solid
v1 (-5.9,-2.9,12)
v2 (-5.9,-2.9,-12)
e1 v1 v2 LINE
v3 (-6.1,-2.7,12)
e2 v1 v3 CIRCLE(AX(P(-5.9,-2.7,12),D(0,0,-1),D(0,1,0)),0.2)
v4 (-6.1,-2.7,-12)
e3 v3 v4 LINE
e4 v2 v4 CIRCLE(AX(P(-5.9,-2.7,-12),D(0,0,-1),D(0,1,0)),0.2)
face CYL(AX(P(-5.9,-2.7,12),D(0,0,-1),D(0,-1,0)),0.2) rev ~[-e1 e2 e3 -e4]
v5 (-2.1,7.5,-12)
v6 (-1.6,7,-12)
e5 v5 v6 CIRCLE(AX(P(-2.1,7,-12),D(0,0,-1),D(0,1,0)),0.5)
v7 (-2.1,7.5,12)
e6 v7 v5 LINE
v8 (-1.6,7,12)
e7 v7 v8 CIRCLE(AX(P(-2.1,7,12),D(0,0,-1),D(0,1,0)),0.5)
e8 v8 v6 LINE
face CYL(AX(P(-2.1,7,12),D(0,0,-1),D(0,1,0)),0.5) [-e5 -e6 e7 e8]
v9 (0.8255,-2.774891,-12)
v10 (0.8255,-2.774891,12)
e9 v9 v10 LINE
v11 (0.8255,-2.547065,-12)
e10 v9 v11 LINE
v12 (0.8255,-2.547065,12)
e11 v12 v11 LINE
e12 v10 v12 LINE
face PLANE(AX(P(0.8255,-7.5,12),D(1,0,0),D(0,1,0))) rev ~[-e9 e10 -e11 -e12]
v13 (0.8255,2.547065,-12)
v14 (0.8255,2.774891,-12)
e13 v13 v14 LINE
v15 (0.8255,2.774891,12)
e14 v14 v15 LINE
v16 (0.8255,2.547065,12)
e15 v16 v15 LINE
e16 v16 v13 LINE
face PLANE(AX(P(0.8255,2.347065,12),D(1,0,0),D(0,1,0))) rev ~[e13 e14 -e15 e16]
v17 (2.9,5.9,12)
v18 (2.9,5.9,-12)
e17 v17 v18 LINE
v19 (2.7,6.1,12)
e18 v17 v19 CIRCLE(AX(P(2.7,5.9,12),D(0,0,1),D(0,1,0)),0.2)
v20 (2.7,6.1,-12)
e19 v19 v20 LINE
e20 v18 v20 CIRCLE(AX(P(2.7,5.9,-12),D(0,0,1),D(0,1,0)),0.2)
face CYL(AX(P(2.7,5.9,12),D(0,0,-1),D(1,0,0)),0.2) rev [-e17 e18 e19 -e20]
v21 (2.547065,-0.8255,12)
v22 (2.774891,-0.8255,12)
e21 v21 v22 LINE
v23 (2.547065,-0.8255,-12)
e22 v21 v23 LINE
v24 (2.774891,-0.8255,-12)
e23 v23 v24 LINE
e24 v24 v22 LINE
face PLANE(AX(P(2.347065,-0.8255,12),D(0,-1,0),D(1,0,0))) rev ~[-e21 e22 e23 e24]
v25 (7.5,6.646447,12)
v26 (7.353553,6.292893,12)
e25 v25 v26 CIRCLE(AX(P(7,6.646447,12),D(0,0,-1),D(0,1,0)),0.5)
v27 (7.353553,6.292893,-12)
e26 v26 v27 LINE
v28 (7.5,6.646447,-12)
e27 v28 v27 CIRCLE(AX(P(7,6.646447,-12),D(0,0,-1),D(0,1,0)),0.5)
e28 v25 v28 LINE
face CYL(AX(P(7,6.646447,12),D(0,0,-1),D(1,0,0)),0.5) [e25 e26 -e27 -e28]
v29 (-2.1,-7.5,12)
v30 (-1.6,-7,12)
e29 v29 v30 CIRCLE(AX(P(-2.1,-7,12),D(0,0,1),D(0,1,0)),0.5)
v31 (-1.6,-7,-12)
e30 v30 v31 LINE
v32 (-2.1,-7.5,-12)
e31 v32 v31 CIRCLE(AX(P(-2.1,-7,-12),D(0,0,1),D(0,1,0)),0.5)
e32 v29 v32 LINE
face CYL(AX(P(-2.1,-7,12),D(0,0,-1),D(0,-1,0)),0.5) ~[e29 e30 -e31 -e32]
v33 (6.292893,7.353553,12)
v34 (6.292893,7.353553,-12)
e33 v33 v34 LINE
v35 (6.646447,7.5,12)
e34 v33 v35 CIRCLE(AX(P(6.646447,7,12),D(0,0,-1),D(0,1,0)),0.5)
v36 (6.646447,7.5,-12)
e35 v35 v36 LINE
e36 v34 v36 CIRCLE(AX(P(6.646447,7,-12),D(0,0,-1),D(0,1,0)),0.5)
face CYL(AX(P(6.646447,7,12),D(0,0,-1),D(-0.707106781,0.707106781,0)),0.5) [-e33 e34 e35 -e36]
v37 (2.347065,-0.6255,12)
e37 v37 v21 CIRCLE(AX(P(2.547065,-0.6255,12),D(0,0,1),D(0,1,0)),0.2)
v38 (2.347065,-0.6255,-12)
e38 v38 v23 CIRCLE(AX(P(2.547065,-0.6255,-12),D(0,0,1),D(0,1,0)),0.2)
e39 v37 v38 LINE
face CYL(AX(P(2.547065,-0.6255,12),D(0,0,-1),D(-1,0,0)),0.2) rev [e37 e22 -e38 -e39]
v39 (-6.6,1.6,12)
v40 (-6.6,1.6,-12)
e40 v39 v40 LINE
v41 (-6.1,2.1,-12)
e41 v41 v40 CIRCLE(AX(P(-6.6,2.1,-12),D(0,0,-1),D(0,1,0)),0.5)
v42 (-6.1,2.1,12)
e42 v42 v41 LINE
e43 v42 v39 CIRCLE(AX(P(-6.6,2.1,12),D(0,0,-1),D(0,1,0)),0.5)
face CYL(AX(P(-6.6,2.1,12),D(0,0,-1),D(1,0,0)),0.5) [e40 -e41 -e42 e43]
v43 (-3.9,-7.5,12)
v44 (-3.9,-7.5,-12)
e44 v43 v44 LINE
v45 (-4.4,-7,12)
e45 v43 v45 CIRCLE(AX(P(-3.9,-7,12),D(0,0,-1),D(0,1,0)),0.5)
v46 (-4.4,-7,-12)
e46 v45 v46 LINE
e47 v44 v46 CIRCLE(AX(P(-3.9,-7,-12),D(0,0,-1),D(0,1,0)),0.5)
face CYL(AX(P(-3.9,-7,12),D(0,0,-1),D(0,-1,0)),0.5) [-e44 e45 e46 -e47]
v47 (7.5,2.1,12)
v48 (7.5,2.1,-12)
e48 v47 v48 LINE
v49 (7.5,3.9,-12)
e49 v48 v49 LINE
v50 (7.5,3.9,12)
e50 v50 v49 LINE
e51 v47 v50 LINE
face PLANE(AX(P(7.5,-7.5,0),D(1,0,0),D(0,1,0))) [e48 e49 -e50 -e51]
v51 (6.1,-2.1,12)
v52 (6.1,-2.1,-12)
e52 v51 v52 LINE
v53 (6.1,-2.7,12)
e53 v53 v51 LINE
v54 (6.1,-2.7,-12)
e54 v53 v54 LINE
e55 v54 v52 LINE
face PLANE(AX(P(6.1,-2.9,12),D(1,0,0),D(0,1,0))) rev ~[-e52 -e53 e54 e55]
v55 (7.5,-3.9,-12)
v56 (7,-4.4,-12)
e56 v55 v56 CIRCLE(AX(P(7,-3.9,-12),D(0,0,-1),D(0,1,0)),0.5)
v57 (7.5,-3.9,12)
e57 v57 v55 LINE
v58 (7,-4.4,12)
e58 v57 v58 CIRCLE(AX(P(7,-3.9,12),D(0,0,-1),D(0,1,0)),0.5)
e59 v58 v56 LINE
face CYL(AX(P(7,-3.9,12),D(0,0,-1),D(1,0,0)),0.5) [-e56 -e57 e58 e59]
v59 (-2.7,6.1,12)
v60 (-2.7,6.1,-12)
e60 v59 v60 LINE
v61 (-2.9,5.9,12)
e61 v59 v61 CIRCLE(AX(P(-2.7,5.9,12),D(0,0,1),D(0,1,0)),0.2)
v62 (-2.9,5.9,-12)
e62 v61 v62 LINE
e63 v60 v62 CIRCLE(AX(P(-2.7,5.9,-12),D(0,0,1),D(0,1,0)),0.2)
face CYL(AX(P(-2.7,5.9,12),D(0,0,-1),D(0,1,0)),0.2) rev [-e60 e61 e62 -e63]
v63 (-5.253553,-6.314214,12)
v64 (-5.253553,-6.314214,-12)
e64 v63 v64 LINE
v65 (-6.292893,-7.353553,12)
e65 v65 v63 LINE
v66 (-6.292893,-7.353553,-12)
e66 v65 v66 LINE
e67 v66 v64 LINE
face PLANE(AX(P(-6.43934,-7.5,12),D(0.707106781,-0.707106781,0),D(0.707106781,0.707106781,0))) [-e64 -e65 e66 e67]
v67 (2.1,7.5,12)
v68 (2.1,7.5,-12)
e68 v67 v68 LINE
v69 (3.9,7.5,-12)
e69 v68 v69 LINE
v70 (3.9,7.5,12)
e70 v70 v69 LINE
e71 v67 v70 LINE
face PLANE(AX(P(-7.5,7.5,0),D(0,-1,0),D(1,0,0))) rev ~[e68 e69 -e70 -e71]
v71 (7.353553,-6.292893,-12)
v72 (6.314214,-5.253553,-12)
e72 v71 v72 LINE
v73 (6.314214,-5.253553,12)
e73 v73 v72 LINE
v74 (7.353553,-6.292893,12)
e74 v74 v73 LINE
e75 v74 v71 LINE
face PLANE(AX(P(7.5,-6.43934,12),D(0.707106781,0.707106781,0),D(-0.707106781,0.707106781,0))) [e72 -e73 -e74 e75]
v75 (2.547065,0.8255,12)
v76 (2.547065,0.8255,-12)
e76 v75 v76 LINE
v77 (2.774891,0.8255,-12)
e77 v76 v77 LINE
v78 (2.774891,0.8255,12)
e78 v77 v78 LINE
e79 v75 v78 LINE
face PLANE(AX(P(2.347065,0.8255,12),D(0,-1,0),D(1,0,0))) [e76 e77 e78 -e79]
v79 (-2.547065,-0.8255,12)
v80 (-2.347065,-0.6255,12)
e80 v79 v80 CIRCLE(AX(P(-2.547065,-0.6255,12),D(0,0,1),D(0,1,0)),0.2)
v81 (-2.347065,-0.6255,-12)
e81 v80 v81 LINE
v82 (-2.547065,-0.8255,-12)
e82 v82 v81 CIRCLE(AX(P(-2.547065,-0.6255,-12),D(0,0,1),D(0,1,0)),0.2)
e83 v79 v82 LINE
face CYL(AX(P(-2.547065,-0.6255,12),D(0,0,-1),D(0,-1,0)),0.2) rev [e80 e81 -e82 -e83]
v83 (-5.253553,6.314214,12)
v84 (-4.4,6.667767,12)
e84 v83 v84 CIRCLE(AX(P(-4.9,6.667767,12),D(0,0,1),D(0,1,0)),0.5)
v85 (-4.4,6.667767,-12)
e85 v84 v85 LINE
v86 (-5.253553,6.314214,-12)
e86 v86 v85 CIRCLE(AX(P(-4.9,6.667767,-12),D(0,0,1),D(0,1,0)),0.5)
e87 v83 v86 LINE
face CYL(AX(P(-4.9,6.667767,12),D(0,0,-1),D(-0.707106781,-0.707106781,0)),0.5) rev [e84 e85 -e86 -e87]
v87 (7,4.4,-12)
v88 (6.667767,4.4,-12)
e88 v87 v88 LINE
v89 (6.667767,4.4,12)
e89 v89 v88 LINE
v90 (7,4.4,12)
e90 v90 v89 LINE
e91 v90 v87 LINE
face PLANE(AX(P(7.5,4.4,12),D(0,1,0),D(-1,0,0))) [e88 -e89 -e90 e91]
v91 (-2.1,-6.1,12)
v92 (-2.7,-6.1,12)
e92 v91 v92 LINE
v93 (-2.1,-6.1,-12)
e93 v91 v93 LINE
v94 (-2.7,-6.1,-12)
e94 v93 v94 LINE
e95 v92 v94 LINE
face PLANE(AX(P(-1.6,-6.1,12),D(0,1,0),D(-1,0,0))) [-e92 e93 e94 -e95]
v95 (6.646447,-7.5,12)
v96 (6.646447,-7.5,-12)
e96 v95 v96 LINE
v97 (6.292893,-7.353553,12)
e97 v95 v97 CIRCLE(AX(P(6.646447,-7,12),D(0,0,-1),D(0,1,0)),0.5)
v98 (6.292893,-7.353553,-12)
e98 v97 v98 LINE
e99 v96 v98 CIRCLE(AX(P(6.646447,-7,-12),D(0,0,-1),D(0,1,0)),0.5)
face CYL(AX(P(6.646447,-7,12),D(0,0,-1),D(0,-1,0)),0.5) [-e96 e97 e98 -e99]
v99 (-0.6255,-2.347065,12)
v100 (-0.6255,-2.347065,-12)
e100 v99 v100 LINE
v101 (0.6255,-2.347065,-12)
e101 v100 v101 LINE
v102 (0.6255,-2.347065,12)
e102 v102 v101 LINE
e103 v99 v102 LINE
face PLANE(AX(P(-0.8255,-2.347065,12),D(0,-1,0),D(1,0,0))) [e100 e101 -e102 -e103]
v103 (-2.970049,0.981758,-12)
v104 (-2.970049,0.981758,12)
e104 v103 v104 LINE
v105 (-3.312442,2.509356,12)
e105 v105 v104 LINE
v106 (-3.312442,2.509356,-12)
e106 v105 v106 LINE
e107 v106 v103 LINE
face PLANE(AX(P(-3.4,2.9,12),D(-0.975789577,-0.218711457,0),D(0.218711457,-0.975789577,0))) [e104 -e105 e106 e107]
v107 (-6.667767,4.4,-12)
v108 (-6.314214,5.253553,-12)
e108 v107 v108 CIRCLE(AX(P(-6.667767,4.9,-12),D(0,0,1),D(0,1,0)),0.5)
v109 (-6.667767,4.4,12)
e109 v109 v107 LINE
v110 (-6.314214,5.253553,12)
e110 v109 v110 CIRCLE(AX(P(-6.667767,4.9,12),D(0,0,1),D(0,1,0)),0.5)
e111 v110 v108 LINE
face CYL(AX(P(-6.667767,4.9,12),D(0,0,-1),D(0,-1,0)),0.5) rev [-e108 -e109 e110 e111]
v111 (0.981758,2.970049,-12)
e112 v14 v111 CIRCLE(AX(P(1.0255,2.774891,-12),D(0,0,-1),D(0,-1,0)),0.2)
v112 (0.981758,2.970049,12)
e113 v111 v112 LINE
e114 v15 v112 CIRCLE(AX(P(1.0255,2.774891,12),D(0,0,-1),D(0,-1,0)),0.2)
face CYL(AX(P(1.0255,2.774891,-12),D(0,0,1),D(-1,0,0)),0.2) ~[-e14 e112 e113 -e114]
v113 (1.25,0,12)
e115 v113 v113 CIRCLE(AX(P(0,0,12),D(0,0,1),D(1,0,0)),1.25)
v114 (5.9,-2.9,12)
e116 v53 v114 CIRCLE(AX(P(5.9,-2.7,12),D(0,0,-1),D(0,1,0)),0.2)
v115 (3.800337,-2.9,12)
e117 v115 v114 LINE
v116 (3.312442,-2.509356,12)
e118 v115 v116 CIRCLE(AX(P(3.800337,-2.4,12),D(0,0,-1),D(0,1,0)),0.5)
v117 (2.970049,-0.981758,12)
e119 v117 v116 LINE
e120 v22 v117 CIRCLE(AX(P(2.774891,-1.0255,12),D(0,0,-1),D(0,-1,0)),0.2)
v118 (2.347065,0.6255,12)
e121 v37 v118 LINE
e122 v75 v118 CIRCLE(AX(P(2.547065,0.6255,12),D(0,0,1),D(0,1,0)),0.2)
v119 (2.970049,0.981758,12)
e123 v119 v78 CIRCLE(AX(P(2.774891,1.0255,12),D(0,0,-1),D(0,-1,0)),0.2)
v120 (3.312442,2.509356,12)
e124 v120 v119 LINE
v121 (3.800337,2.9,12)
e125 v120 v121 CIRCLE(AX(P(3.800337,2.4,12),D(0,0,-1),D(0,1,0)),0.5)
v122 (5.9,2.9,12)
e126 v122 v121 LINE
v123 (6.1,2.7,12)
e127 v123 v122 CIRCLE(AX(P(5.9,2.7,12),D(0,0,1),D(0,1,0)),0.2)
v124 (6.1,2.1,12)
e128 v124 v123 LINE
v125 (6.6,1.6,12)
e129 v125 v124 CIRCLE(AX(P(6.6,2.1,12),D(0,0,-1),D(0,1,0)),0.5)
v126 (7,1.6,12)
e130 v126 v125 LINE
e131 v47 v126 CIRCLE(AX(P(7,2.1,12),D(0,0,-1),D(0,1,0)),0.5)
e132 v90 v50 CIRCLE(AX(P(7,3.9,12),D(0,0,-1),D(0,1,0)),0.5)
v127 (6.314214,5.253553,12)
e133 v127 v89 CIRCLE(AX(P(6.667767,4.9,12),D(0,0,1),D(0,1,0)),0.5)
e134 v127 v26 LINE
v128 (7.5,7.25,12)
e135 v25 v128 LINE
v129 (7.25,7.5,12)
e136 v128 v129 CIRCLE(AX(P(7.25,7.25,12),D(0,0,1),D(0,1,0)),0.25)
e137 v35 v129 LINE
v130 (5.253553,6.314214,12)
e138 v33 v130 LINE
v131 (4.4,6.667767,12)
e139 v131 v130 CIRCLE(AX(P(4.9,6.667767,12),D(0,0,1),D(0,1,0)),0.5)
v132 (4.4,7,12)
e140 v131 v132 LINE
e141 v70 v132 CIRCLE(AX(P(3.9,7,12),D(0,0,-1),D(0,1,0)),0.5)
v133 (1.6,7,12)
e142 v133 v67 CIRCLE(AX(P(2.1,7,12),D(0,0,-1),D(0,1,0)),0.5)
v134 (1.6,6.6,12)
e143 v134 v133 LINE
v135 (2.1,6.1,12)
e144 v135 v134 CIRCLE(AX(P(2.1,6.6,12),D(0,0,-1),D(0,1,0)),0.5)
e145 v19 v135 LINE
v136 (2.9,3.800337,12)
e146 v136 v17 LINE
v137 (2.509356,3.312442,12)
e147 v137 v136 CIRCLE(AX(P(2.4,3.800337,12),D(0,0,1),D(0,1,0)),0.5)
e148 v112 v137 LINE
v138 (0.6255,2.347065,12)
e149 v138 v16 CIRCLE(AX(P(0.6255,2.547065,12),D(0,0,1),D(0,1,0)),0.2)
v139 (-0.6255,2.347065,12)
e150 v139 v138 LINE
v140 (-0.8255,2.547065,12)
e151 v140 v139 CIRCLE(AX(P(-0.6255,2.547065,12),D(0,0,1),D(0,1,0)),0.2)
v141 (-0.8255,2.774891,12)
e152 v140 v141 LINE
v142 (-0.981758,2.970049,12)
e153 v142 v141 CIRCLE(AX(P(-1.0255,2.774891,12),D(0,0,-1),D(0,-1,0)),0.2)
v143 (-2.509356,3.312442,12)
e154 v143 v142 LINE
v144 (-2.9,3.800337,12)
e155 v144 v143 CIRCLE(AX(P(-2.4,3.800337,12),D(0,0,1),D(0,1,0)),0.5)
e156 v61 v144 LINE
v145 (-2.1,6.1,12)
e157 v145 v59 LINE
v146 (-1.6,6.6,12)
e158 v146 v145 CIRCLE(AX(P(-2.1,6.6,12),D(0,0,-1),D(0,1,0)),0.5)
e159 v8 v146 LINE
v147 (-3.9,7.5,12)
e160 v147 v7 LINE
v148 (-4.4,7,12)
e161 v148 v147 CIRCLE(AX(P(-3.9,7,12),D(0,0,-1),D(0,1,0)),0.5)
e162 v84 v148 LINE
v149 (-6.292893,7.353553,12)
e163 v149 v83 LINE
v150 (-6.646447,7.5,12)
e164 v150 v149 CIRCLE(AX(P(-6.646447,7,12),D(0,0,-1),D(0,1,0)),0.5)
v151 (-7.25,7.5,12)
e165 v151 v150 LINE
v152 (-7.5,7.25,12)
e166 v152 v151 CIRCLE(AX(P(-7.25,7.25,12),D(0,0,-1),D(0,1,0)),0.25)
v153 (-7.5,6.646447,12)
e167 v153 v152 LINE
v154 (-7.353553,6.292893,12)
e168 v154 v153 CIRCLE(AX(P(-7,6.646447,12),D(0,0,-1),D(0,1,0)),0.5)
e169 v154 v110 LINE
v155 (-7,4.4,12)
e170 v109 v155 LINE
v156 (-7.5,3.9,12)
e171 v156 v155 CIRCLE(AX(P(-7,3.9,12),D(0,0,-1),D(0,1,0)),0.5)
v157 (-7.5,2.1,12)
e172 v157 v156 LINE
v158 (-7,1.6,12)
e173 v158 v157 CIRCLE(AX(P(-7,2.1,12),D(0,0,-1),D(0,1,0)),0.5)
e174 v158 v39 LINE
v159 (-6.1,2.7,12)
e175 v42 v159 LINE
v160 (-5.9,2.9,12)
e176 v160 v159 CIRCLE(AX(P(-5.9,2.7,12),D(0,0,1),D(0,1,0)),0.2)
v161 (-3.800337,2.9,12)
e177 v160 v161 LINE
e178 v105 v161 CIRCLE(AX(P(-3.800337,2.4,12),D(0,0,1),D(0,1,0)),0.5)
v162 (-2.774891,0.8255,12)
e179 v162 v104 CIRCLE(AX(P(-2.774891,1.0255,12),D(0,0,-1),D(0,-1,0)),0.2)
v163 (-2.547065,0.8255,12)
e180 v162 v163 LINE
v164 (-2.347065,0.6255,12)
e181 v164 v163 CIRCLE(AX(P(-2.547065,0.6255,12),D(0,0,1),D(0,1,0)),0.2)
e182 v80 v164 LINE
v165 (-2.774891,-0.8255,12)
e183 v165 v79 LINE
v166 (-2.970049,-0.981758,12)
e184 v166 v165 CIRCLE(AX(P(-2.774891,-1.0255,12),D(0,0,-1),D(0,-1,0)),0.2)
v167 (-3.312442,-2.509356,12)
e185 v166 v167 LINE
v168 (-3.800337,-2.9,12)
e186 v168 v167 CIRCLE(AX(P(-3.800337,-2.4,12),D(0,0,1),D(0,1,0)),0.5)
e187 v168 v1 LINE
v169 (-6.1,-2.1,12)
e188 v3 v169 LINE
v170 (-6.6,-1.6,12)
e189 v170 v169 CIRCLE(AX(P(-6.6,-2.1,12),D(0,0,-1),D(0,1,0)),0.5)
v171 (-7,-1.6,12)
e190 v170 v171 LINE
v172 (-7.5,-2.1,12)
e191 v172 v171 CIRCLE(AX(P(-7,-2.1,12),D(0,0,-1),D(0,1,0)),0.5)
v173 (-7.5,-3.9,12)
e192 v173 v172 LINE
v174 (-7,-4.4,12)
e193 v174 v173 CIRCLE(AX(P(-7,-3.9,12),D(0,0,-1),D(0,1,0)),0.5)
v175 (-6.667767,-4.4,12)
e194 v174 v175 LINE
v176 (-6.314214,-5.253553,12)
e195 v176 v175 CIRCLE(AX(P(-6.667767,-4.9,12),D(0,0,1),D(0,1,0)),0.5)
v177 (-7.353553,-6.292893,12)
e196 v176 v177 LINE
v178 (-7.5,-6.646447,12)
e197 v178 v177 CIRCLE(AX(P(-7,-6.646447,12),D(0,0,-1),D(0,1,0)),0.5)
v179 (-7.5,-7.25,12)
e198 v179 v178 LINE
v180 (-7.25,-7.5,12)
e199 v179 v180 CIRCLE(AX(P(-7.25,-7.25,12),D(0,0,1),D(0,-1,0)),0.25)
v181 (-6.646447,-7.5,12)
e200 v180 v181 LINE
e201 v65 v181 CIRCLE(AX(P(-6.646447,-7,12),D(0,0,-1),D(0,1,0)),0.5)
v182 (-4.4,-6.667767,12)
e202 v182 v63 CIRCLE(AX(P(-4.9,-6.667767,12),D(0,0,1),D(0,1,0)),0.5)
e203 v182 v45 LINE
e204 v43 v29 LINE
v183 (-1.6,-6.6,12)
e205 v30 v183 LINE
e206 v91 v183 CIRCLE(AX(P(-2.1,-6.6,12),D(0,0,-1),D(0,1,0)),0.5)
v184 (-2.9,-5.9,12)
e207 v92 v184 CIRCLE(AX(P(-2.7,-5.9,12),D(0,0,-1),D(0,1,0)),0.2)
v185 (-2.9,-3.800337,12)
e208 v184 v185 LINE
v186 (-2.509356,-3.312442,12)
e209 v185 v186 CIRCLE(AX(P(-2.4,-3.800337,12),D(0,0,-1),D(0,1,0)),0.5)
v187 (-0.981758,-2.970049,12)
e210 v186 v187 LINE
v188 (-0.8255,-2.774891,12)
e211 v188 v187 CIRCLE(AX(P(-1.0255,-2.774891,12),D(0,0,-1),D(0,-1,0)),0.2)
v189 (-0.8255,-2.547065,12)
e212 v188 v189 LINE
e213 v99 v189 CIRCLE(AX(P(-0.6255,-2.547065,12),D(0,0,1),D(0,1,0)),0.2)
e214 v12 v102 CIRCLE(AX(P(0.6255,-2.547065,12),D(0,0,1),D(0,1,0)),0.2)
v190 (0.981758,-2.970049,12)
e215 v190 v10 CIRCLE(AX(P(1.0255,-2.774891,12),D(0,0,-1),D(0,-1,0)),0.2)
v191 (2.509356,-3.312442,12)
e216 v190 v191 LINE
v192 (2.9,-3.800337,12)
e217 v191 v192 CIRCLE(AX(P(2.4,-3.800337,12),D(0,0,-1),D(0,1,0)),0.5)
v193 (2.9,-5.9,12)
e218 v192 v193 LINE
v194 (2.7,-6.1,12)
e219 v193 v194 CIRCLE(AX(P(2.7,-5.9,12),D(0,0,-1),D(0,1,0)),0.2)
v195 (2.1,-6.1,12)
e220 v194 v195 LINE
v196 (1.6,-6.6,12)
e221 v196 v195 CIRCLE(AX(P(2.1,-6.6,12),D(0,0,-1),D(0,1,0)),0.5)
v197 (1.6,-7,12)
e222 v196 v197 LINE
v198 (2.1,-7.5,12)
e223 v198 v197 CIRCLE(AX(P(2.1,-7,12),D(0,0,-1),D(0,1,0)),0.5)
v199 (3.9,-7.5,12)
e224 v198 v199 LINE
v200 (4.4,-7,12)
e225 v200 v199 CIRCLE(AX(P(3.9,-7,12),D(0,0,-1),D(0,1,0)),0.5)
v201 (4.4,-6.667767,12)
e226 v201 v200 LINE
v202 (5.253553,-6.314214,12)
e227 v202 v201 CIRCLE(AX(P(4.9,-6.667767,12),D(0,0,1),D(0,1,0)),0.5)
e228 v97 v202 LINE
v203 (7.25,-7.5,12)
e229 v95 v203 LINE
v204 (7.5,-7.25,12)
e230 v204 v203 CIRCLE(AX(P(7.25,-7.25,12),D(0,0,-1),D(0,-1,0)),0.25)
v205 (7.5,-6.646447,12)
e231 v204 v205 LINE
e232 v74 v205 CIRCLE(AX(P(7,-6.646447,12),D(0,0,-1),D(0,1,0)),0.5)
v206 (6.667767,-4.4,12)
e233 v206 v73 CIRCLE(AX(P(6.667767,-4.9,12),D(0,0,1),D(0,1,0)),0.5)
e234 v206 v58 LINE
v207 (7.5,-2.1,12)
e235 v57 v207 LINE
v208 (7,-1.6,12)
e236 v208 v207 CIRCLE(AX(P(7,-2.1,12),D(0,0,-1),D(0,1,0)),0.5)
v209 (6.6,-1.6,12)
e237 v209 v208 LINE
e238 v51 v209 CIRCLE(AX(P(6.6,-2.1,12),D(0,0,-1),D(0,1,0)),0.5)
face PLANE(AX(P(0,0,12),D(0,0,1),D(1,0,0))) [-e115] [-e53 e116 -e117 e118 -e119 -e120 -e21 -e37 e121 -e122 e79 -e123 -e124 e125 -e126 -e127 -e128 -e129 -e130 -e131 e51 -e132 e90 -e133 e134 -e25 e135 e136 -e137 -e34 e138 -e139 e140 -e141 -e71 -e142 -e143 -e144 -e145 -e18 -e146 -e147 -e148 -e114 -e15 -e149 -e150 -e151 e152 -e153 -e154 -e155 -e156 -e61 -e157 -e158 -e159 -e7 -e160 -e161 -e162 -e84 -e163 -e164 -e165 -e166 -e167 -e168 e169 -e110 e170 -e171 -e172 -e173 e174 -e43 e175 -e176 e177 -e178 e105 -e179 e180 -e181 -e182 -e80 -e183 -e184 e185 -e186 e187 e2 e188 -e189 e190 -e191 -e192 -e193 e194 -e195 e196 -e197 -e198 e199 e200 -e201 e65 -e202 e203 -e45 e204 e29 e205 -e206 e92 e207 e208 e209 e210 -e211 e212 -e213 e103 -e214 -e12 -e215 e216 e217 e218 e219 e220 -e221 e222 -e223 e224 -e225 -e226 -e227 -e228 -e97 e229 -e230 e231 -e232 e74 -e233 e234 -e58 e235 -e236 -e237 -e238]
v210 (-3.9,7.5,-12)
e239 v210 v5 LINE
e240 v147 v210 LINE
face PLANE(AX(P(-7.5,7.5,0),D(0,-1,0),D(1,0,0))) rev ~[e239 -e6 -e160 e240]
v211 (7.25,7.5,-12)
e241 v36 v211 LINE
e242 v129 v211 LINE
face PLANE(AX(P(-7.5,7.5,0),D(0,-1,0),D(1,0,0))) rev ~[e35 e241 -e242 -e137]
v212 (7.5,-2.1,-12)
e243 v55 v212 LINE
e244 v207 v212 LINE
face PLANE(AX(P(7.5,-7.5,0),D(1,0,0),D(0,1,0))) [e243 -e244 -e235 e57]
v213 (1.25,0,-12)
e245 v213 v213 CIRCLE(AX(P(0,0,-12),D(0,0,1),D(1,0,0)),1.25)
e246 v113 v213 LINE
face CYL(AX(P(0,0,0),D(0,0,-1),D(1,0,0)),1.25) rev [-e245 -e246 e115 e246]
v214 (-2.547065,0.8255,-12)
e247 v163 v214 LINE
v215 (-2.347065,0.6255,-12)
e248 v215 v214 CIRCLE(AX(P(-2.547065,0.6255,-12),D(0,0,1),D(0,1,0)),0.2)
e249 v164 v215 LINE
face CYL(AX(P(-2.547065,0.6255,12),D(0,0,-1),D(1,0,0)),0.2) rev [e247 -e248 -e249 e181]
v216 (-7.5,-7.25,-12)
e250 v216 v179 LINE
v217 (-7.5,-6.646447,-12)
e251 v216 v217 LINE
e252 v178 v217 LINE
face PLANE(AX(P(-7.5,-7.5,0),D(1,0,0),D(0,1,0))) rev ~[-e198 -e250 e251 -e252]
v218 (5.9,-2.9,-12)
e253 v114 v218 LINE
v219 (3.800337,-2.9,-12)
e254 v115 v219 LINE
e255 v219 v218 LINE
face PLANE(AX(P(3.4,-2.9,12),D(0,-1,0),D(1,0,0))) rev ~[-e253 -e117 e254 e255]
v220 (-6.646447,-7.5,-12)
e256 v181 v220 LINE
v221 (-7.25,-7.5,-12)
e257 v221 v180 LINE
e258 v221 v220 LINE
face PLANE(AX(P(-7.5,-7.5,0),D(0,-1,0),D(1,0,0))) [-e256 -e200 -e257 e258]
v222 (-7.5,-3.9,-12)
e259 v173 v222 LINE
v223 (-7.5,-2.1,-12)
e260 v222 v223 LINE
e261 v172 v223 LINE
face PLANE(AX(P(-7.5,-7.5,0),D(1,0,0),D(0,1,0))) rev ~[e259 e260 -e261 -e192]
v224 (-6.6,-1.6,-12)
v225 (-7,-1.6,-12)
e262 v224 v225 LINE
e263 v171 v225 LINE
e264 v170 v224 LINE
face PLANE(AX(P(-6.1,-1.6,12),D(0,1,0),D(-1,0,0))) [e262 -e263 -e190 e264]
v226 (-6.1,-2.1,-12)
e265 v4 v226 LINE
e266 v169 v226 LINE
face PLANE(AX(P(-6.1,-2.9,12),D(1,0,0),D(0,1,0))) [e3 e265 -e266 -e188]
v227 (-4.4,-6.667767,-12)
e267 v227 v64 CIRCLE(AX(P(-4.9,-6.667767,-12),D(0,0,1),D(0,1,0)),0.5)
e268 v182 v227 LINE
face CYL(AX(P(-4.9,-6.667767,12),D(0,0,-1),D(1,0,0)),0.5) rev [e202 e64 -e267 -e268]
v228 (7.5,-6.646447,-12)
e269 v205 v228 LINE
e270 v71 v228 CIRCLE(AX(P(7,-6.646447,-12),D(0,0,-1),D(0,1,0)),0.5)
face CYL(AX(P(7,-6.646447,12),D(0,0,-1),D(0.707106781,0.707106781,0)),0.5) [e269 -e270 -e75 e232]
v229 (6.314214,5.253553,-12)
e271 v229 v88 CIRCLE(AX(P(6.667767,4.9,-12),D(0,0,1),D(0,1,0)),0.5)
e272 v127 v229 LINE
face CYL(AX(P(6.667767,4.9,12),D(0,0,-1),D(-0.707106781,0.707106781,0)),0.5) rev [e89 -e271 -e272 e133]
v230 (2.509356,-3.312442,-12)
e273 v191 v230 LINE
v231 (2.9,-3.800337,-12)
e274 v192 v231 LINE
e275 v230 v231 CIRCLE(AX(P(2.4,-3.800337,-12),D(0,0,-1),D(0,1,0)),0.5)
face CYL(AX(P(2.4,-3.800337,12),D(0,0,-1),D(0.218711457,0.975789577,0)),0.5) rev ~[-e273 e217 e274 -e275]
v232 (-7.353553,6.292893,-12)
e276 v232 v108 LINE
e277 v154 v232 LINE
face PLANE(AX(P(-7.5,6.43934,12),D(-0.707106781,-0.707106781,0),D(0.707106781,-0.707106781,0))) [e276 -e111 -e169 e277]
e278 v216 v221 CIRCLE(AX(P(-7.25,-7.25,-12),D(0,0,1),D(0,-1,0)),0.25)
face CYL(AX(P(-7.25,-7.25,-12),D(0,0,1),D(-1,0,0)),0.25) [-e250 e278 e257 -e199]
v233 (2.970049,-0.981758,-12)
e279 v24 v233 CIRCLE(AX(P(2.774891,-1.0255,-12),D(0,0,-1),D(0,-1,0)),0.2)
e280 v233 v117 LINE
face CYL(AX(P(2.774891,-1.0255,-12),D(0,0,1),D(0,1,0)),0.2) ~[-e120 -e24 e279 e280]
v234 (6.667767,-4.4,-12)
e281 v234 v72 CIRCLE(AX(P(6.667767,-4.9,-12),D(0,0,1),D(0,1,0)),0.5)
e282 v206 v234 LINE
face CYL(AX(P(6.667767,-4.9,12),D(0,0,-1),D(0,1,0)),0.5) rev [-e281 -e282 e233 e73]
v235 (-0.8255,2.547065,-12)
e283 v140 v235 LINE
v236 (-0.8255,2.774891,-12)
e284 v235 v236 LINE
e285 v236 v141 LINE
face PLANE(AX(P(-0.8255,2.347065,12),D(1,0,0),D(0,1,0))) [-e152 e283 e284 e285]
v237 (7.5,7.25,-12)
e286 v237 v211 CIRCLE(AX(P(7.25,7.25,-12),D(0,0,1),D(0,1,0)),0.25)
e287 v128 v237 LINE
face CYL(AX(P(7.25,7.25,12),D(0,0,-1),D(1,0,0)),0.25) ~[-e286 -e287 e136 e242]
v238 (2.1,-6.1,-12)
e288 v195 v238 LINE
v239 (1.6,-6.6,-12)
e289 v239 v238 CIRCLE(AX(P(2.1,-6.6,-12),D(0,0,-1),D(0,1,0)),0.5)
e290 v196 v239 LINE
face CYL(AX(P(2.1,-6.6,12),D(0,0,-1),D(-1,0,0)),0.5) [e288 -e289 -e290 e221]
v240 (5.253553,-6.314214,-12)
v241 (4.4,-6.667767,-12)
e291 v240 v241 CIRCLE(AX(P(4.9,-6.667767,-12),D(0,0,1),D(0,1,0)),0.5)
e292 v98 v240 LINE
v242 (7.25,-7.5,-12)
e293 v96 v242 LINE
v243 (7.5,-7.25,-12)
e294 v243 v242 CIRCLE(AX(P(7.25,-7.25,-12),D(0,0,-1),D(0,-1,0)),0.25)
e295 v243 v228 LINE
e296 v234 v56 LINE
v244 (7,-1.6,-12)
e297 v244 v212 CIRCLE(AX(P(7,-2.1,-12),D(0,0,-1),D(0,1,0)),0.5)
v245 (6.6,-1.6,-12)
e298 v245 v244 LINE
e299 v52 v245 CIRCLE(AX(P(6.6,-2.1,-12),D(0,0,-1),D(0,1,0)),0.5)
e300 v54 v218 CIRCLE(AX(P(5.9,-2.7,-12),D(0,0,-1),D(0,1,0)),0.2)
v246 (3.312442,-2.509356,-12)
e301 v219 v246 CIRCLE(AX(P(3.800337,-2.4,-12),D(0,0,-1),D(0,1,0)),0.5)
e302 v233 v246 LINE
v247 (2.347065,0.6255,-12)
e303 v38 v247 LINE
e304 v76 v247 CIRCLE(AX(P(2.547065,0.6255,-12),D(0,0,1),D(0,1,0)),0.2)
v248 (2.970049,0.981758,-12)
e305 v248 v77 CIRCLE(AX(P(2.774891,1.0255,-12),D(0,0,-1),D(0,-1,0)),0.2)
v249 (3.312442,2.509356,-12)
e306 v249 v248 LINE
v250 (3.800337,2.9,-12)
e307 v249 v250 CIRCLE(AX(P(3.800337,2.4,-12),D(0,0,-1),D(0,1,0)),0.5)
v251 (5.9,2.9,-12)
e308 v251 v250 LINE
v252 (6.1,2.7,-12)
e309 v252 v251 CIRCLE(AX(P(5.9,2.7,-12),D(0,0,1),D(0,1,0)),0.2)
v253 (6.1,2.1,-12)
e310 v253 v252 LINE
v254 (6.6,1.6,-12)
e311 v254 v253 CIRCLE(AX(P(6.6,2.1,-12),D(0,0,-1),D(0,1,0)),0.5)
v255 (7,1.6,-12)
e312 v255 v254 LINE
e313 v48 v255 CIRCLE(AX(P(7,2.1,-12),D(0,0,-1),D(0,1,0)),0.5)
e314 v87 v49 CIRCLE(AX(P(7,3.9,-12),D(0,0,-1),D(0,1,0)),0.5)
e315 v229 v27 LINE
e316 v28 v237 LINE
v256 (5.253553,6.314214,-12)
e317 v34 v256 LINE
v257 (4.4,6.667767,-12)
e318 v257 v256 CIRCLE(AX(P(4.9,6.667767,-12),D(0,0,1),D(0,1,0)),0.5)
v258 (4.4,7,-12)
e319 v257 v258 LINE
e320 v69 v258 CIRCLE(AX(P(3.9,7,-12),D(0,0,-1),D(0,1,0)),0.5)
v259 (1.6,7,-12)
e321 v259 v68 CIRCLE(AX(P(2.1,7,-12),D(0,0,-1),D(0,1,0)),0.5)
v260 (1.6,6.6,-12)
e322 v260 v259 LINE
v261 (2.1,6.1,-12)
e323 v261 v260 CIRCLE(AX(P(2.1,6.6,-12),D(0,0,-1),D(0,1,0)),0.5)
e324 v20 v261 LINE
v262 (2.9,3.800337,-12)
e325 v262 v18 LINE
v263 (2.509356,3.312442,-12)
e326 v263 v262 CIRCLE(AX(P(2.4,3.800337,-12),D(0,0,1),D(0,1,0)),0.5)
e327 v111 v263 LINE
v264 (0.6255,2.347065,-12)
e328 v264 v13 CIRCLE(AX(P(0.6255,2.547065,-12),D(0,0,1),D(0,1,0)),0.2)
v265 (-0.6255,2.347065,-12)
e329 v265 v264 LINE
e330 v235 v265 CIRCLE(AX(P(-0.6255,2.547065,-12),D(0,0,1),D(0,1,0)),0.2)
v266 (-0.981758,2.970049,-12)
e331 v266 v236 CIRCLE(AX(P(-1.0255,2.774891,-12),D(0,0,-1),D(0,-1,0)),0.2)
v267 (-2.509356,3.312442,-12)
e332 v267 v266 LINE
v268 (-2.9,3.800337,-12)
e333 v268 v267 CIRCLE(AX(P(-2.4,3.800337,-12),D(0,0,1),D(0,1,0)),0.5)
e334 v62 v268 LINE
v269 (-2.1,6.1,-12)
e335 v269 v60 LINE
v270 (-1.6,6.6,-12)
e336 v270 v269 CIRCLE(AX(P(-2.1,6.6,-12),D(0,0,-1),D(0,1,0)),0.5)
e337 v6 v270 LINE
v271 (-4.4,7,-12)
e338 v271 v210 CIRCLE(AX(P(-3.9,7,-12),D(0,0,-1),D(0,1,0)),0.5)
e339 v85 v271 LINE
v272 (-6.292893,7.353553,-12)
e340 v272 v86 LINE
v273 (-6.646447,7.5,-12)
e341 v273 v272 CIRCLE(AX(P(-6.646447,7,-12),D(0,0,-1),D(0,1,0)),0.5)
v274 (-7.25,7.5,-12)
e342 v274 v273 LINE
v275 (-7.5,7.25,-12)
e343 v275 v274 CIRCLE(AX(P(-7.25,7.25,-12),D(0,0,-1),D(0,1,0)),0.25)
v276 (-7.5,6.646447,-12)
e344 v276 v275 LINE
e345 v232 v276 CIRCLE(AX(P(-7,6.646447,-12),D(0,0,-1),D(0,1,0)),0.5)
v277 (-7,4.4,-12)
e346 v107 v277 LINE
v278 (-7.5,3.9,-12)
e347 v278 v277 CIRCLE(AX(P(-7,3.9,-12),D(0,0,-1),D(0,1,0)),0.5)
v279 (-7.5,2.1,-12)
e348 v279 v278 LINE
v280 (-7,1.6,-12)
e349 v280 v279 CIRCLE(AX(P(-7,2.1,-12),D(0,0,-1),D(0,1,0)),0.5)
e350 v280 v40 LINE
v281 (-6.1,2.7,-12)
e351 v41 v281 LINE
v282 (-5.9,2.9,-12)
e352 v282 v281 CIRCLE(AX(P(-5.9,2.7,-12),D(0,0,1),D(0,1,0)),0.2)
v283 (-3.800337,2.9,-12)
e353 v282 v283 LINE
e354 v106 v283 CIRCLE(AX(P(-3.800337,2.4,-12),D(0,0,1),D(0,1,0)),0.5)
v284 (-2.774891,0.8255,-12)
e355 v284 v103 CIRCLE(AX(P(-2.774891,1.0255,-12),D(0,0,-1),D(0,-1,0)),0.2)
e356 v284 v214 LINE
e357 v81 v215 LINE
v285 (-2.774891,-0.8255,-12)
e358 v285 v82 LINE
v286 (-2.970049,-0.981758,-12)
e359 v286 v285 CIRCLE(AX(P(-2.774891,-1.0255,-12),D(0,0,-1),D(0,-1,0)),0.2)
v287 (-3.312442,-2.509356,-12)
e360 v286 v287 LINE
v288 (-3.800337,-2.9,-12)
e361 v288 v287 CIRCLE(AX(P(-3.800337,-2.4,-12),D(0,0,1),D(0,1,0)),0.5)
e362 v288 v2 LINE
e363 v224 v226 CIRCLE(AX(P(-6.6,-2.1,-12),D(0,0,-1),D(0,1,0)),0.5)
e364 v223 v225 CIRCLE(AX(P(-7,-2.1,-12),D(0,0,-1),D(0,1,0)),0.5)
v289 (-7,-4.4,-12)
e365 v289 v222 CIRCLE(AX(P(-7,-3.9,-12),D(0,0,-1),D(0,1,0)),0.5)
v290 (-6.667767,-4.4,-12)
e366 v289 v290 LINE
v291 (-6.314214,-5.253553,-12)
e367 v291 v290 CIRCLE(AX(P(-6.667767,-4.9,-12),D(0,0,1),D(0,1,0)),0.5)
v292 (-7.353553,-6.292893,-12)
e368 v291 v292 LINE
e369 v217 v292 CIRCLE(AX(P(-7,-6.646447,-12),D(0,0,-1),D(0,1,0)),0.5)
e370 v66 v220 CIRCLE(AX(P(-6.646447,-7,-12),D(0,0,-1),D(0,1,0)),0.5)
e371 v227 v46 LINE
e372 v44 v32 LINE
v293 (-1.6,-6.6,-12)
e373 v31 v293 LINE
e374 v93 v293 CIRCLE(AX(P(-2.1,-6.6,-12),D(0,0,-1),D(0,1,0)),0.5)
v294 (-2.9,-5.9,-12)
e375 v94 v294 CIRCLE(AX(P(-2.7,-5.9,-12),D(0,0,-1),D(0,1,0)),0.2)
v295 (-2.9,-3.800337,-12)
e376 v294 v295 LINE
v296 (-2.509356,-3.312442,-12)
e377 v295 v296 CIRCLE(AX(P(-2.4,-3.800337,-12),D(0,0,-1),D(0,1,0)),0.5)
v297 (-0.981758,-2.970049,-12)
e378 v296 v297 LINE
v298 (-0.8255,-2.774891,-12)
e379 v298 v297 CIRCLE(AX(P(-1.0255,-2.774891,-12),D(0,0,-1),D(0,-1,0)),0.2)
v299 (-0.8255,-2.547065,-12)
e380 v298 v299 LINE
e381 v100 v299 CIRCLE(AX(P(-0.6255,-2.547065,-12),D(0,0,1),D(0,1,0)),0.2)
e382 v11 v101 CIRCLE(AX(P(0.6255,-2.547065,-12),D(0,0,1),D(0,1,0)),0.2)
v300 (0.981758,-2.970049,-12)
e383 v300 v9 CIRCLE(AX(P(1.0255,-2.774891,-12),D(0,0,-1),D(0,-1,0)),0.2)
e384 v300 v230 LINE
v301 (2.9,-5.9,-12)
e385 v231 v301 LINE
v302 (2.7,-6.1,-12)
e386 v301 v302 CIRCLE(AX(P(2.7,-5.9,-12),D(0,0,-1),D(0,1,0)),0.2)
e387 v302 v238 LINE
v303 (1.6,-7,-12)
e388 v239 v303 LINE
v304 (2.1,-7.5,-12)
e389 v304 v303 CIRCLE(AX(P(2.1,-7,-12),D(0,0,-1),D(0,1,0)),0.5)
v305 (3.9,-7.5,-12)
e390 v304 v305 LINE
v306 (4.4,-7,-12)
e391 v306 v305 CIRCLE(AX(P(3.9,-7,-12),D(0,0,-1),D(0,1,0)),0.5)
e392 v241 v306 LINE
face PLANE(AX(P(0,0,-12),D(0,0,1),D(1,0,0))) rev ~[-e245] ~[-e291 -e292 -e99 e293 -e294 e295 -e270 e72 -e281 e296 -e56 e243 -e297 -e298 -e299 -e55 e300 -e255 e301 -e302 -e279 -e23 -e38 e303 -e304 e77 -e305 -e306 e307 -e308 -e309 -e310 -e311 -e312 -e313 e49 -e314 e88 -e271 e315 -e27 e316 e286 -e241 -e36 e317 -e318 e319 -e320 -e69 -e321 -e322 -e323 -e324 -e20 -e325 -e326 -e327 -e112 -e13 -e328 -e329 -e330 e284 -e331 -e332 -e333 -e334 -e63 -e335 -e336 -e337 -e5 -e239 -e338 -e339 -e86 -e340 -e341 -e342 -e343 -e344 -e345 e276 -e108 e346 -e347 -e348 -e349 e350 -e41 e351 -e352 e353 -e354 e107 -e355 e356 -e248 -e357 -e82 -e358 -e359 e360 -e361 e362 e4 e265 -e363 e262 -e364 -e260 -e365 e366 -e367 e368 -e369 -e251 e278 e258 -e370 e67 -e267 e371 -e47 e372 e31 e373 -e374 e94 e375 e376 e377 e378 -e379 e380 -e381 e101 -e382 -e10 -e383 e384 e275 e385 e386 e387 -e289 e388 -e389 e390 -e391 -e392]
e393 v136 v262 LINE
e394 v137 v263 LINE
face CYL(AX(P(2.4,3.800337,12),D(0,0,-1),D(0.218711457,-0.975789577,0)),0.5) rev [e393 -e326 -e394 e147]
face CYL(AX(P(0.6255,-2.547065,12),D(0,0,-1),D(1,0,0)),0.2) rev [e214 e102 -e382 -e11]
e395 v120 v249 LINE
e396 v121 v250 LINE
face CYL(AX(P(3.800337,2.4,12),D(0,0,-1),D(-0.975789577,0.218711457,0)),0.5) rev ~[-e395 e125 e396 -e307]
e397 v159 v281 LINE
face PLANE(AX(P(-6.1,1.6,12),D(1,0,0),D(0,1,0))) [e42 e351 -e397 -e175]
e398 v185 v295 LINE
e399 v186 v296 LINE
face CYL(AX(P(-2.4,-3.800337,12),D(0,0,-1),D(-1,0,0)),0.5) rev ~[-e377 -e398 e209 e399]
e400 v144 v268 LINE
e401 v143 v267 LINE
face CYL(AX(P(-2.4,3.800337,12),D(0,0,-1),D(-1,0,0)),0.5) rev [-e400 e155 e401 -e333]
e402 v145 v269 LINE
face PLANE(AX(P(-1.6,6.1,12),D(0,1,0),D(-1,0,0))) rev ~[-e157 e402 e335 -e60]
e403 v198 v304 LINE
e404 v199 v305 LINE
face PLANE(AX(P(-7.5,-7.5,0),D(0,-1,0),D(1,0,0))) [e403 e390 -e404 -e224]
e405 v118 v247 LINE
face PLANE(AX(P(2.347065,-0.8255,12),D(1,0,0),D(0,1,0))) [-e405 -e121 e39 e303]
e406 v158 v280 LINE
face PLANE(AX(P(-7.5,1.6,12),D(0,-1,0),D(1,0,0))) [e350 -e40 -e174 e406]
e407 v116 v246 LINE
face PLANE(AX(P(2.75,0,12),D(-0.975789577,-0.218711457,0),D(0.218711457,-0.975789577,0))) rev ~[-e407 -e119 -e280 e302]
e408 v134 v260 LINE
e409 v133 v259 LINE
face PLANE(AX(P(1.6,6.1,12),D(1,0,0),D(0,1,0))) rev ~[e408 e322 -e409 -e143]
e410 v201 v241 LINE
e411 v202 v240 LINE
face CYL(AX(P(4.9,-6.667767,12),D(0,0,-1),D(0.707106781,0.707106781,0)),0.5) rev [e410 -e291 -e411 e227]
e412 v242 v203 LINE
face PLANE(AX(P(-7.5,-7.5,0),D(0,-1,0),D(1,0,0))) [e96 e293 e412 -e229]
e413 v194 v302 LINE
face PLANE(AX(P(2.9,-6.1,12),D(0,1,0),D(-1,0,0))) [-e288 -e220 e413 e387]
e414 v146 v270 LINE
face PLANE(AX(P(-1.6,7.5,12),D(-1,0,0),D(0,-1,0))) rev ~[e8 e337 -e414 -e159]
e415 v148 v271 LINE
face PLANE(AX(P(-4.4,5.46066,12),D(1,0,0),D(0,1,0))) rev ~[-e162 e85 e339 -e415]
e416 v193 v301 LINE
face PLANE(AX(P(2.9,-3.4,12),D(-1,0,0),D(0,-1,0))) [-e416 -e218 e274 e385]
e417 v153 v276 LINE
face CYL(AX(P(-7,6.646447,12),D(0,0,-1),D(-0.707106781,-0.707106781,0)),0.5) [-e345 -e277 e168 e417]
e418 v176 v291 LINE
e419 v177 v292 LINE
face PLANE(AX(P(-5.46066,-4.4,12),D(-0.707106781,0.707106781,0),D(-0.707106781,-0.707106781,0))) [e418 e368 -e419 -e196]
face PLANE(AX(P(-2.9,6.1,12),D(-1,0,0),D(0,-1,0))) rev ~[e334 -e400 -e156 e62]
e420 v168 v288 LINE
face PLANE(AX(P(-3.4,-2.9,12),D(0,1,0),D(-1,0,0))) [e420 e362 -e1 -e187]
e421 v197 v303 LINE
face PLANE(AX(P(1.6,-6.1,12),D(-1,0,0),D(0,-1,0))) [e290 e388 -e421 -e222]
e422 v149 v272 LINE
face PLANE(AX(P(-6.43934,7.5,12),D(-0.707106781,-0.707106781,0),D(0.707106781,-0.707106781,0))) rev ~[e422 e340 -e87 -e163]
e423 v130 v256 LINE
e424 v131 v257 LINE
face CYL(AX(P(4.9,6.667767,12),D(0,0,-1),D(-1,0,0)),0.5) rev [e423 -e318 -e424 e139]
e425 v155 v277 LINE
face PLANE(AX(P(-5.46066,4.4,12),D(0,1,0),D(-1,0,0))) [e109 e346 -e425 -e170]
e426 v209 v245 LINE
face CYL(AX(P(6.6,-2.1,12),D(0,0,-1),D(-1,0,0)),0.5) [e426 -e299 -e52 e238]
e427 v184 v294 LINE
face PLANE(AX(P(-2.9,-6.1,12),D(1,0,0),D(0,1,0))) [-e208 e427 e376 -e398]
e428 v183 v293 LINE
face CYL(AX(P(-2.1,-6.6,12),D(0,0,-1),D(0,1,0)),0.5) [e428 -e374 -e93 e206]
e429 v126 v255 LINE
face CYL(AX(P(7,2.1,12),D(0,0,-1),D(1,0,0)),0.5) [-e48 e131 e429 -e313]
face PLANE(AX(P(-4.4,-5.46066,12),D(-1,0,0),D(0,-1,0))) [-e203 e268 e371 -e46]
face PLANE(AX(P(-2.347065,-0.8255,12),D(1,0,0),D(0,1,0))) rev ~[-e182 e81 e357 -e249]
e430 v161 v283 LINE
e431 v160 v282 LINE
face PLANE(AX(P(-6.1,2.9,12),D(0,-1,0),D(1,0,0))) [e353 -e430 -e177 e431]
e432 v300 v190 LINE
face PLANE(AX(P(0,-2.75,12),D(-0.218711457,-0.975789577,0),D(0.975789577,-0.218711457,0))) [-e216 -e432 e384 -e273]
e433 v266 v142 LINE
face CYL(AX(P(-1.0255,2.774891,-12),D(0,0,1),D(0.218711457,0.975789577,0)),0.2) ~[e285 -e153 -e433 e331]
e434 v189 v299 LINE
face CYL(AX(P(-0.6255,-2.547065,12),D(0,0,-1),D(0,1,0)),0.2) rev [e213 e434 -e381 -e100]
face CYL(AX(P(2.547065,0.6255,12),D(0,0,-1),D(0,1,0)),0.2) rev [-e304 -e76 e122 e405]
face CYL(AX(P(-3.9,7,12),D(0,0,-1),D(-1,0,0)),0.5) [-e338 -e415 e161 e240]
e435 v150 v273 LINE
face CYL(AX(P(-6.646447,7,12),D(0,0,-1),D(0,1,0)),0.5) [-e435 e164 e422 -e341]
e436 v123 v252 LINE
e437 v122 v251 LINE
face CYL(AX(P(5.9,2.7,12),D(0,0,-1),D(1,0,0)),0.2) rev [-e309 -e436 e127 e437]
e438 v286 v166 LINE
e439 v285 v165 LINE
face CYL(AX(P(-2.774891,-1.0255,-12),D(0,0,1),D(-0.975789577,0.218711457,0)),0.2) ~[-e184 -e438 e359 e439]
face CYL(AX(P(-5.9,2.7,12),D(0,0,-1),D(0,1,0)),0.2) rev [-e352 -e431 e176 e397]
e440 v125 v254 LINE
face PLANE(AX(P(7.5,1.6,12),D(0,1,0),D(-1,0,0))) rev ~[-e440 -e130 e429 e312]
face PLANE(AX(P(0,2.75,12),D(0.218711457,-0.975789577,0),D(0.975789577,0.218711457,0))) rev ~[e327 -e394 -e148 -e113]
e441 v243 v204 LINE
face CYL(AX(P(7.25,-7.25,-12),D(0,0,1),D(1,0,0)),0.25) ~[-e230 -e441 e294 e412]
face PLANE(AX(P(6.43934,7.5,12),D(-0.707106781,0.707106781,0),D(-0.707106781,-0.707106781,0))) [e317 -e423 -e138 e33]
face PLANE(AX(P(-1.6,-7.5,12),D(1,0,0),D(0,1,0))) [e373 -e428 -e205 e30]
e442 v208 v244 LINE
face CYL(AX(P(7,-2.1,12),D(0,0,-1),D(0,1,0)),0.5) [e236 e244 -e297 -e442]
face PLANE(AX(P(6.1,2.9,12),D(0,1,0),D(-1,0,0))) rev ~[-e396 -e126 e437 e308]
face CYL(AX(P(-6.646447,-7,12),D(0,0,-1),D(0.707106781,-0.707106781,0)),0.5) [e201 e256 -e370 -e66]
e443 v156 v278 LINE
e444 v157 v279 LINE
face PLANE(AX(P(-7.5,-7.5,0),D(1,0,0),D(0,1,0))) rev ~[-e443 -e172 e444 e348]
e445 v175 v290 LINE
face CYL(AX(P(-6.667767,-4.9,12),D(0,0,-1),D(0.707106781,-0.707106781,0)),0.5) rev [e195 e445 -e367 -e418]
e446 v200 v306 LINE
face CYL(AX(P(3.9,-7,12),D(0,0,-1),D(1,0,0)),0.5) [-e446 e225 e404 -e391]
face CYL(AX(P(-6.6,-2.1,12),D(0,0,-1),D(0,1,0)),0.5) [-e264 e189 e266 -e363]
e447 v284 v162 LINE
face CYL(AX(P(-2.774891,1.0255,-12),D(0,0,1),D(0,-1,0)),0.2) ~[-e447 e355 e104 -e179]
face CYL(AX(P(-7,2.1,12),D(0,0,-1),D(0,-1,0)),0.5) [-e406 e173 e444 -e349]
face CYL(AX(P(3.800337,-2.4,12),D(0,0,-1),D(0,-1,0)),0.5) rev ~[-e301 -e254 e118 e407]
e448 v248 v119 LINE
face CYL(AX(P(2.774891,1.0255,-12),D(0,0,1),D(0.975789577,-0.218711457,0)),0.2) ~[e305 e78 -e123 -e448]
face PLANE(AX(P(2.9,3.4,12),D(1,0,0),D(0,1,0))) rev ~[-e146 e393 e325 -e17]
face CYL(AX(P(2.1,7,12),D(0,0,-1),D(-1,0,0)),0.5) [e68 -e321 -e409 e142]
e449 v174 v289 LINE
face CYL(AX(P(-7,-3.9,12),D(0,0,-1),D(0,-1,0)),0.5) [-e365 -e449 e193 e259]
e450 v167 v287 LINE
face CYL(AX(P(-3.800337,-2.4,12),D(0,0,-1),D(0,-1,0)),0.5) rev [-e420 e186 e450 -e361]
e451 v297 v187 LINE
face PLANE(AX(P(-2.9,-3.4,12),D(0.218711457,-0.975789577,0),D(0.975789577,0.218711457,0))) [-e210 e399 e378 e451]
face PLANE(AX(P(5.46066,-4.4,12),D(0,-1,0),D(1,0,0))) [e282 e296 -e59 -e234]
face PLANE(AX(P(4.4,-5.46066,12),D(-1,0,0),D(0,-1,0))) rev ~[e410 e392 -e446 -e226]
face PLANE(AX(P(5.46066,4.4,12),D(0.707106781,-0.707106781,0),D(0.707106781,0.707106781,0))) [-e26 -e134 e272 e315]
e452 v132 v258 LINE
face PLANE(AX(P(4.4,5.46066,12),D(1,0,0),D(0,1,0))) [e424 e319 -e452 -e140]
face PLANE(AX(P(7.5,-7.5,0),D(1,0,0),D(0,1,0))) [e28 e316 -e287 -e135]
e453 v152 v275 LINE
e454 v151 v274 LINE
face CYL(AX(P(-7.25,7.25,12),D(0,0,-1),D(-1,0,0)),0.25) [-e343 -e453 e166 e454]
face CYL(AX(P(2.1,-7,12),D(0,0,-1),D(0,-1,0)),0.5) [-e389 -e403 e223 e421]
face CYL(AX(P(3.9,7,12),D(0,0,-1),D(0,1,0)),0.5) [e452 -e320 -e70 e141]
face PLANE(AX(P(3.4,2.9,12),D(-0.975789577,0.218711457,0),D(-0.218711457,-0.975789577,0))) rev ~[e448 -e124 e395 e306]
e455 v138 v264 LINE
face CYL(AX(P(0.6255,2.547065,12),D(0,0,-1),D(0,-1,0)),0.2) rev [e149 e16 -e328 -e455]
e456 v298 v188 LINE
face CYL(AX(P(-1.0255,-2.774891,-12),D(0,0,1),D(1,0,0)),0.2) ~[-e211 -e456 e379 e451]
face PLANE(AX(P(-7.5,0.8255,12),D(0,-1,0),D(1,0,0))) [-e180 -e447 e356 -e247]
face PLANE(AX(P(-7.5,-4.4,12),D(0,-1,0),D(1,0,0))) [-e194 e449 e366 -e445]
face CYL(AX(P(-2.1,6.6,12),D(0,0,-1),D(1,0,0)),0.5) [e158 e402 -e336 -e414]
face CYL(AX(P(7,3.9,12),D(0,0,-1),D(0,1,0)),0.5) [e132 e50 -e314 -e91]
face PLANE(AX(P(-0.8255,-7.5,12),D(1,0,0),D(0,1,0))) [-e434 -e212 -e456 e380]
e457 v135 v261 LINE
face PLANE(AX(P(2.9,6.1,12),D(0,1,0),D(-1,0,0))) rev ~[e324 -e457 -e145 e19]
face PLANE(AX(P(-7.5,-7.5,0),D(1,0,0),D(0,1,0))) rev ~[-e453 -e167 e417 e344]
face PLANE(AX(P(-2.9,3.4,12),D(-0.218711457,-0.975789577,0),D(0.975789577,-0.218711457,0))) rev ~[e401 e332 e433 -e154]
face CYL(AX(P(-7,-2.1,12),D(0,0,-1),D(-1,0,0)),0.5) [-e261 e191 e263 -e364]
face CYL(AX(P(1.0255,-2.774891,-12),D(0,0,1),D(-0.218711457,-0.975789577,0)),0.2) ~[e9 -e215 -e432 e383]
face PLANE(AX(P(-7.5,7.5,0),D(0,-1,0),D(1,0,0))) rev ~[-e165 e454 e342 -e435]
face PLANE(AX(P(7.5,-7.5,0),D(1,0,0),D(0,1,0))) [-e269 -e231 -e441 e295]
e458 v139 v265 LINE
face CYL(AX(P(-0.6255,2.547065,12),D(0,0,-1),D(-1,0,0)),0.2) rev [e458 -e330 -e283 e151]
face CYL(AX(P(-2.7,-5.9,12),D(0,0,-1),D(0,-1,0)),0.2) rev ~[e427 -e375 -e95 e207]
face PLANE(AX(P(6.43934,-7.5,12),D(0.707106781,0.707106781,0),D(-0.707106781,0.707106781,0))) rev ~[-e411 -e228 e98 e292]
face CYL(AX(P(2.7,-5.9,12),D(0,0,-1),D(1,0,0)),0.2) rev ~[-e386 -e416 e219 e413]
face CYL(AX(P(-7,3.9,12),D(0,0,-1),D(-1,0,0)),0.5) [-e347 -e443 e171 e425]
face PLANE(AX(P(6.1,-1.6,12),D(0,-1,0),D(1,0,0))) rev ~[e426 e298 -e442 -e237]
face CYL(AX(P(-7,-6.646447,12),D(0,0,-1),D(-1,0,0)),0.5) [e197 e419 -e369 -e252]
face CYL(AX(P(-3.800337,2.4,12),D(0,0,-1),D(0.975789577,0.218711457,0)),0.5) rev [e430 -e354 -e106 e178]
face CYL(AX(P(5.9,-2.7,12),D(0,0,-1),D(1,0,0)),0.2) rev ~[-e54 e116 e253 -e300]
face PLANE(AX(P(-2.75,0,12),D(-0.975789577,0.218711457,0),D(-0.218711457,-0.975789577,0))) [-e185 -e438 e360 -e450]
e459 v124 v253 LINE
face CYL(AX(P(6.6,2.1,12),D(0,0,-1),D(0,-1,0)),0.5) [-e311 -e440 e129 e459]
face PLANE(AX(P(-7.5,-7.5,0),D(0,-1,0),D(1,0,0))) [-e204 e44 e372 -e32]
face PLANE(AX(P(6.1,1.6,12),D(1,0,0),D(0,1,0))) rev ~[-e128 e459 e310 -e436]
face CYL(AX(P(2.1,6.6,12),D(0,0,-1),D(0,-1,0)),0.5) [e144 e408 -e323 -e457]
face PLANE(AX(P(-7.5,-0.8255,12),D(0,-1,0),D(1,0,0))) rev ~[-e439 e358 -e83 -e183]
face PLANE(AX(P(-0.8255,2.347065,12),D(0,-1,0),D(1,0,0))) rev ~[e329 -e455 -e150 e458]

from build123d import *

# Parameters (mm, degrees)
SKETCH1_W           = 15
SKETCH1_H           = 15
SKETCH1_R           = 1.25
BOSS_EXTRUDE1_DEPTH = 12
FILLET1_R           = 0.25
CUT_EXTRUDE1_DEPTH  = 25
CUT_EXTRUDE3_DEPTH  = 25
FILLET3_R           = 0.5
FILLET4_R           = 0.5
FILLET5_R           = 3
FILLET6_R           = 0.2
CUT_EXTRUDE4_DEPTH  = 25
FILLET8_R           = 0.5
SKETCH6_W           = 5.1529354
SKETCH6_H           = 1.651
SKETCH6_W_2         = 1.651
SKETCH6_H_2         = 5.1529354
CUT_EXTRUDE5_DEPTH  = 25
FILLET10_R          = 0.2


with BuildPart() as part:
    # Sketch1 → Boss-Extrude1 (new body, symmetric)
    with BuildSketch(Plane.XY):
        Rectangle(SKETCH1_W, SKETCH1_H)
        Circle(SKETCH1_R, mode=Mode.SUBTRACT)
    extrude(amount=BOSS_EXTRUDE1_DEPTH, both=True)

    # Fillet1
    fillet1_edges = [part.edges().sort_by_distance(p)[0] for p in [
        (7.5, -7.5, 0),
        (-7.5, -7.5, 0),
        (-7.5, 7.5, 0),
        (7.5, 7.5, 0),
    ]]
    fillet(fillet1_edges, radius=FILLET1_R)

    # Sketch2 → Cut-Extrude1 (cut, through all)
    with BuildSketch(Plane.XY.offset(12)):
        Polygon((-7.5, 1.6), (-6.1, 1.6), (-6.1, 2.9), (-3.4, 2.9), (-3.4, -2.9), (-6.1, -2.9), (-6.1, -1.6), (-7.5, -1.6), align=None)
        Polygon((2.9, 6.1), (1.6, 6.1), (1.6, 7.5), (-1.6, 7.5), (-1.6, 6.1), (-2.9, 6.1), (-2.9, 3.4), (2.9, 3.4), align=None)
        Polygon((-1.6, -7.5), (-1.6, -6.1), (-2.9, -6.1), (-2.9, -3.4), (2.9, -3.4), (2.9, -6.1), (1.6, -6.1), (1.6, -7.5), align=None)
        Polygon((6.1, -2.9), (6.1, -1.6), (7.5, -1.6), (7.5, 1.6), (6.1, 1.6), (6.1, 2.9), (3.4, 2.9), (3.4, -2.9), align=None)
    extrude(amount=-CUT_EXTRUDE1_DEPTH, mode=Mode.SUBTRACT)

    # Sketch4 → Cut-Extrude3 (cut, through all)
    with BuildSketch(Plane.XY.offset(12)):
        Polygon((-3.4, 2.9), (-2.75, 0), (-3.4, -2.9), align=None)
        Polygon((-2.9, 3.4), (0, 2.75), (2.9, 3.4), align=None)
        Polygon((3.4, 2.9), (2.75, 0), (3.4, -2.9), align=None)
        Polygon((-2.9, -3.4), (0, -2.75), (2.9, -3.4), align=None)
    extrude(amount=-CUT_EXTRUDE3_DEPTH, mode=Mode.SUBTRACT)

    # Fillet3
    fillet3_edges = [part.edges().sort_by_distance(p)[0] for p in [
        (1.6, -7.5, 0),
        (-1.6, -7.5, 0),
        (-1.6, -6.1, 0),
        (1.6, -6.1, 0),
        (6.1, 1.6, 0),
        (7.5, 1.6, 0),
        (7.5, -1.6, 0),
        (6.1, -1.6, 0),
        (-7.5, -1.6, 0),
        (-7.5, 1.6, 0),
        (-6.1, 1.6, 0),
        (-6.1, -1.6, 0),
        (-1.6, 6.1, 0),
        (-1.6, 7.5, 0),
        (1.6, 7.5, 0),
        (1.6, 6.1, 0),
    ]]
    fillet(fillet3_edges, radius=FILLET3_R)

    # Fillet4
    fillet4_edges = [part.edges().sort_by_distance(p)[0] for p in [
        (-2.9, -3.4, 0),
        (2.9, -3.4, 0),
        (3.4, -2.9, 0),
        (3.4, 2.9, 0),
        (-3.4, 2.9, 0),
        (-3.4, -2.9, 0),
        (2.9, 3.4, 0),
        (-2.9, 3.4, 0),
    ]]
    fillet(fillet4_edges, radius=FILLET4_R)

    # Fillet5
    fillet5_edges = [part.edges().sort_by_distance(p)[0] for p in [
        (-2.75, 0, 0),
        (0, 2.75, 0),
        (2.75, 0, 0),
        (0, -2.75, 0),
    ]]
    fillet(fillet5_edges, radius=FILLET5_R)

    # Fillet6
    fillet6_edges = [part.edges().sort_by_distance(p)[0] for p in [
        (-2.9, -6.1, 0),
        (2.9, -6.1, 0),
        (6.1, -2.9, 0),
        (6.1, 2.9, 0),
        (-6.1, 2.9, 0),
        (-6.1, -2.9, 0),
        (2.9, 6.1, 0),
        (-2.9, 6.1, 0),
    ]]
    fillet(fillet6_edges, radius=FILLET6_R)

    # Sketch5 → Cut-Extrude4 (cut, through all)
    with BuildSketch(Plane.XY.offset(12)):
        Polygon((-7.5, 6.439339828), (-5.460660172, 4.4), (-7.5, 4.4), align=None)
        Polygon((-6.439339828, 7.5), (-4.4, 5.460660172), (-4.4, 7.5), align=None)
        Polygon((4.4, 7.5), (6.439339828, 7.5), (4.4, 5.460660172), align=None)
        Polygon((7.5, 6.439339828), (7.5, 4.4), (5.460660172, 4.4), align=None)
        Polygon((7.5, -6.439339828), (5.460660172, -4.4), (7.5, -4.4), align=None)
        Polygon((6.439339828, -7.5), (4.4, -5.460660172), (4.4, -7.5), align=None)
        Polygon((-4.4, -7.5), (-6.439339828, -7.5), (-4.4, -5.460660172), align=None)
        Polygon((-7.5, -6.439339828), (-7.5, -4.4), (-5.460660172, -4.4), align=None)
    extrude(amount=-CUT_EXTRUDE4_DEPTH, mode=Mode.SUBTRACT)

    # Fillet8
    fillet8_edges = [part.edges().sort_by_distance(p)[0] for p in [
        (-7.5, 4.4, 0),
        (-7.5, 6.439339828, 0),
        (-5.460660172, 4.4, 0),
        (7.5, -4.4, 0),
        (7.5, -6.439339828, 0),
        (5.460660172, -4.4, 0),
        (5.460660172, 4.4, 0),
        (7.5, 6.439339828, 0),
        (7.5, 4.4, 0),
        (-4.4, 7.5, 0),
        (-4.4, 5.460660172, 0),
        (-6.439339828, 7.5, 0),
        (-5.460660172, -4.4, 0),
        (-7.5, -6.439339828, 0),
        (-7.5, -4.4, 0),
        (4.4, 5.460660172, 0),
        (4.4, 7.5, 0),
        (6.439339828, 7.5, 0),
        (6.439339828, -7.5, 0),
        (4.4, -7.5, 0),
        (4.4, -5.460660172, 0),
        (-6.439339828, -7.5, 0),
        (-4.4, -5.460660172, 0),
        (-4.4, -7.5, 0),
    ]]
    fillet(fillet8_edges, radius=FILLET8_R)

    # Sketch6 → Cut-Extrude5 (cut, through all)
    with BuildSketch(Plane.XY.offset(12)):
        with Locations((4.9235323, 0)):
            Rectangle(SKETCH6_W, SKETCH6_H)
        with Locations((0, -4.9235323)):
            Rectangle(SKETCH6_W_2, SKETCH6_H_2)
        with Locations((-4.9235323, 0)):
            Rectangle(SKETCH6_W, SKETCH6_H)
        with Locations((0, 4.9235323)):
            Rectangle(SKETCH6_W_2, SKETCH6_H_2)
    extrude(amount=-CUT_EXTRUDE5_DEPTH, mode=Mode.SUBTRACT)

    # Fillet10
    fillet10_edges = [part.edges().sort_by_distance(p)[0] for p in [
        (0.8255, -2.935025862, 0),
        (-0.8255, -2.935025862, 0),
        (0.8255, -2.3470646, 0),
        (-0.8255, -2.3470646, 0),
        (2.935025862, 0.8255, 0),
        (2.935025862, -0.8255, 0),
        (2.3470646, 0.8255, 0),
        (2.3470646, -0.8255, 0),
        (-2.935025862, -0.8255, 0),
        (-2.935025862, 0.8255, 0),
        (-2.3470646, -0.8255, 0),
        (-2.3470646, 0.8255, 0),
        (-0.8255, 2.935025862, 0),
        (0.8255, 2.935025862, 0),
        (-0.8255, 2.3470646, 0),
        (0.8255, 2.3470646, 0),
    ]]
    fillet(fillet10_edges, radius=FILLET10_R)


solid = part.part
